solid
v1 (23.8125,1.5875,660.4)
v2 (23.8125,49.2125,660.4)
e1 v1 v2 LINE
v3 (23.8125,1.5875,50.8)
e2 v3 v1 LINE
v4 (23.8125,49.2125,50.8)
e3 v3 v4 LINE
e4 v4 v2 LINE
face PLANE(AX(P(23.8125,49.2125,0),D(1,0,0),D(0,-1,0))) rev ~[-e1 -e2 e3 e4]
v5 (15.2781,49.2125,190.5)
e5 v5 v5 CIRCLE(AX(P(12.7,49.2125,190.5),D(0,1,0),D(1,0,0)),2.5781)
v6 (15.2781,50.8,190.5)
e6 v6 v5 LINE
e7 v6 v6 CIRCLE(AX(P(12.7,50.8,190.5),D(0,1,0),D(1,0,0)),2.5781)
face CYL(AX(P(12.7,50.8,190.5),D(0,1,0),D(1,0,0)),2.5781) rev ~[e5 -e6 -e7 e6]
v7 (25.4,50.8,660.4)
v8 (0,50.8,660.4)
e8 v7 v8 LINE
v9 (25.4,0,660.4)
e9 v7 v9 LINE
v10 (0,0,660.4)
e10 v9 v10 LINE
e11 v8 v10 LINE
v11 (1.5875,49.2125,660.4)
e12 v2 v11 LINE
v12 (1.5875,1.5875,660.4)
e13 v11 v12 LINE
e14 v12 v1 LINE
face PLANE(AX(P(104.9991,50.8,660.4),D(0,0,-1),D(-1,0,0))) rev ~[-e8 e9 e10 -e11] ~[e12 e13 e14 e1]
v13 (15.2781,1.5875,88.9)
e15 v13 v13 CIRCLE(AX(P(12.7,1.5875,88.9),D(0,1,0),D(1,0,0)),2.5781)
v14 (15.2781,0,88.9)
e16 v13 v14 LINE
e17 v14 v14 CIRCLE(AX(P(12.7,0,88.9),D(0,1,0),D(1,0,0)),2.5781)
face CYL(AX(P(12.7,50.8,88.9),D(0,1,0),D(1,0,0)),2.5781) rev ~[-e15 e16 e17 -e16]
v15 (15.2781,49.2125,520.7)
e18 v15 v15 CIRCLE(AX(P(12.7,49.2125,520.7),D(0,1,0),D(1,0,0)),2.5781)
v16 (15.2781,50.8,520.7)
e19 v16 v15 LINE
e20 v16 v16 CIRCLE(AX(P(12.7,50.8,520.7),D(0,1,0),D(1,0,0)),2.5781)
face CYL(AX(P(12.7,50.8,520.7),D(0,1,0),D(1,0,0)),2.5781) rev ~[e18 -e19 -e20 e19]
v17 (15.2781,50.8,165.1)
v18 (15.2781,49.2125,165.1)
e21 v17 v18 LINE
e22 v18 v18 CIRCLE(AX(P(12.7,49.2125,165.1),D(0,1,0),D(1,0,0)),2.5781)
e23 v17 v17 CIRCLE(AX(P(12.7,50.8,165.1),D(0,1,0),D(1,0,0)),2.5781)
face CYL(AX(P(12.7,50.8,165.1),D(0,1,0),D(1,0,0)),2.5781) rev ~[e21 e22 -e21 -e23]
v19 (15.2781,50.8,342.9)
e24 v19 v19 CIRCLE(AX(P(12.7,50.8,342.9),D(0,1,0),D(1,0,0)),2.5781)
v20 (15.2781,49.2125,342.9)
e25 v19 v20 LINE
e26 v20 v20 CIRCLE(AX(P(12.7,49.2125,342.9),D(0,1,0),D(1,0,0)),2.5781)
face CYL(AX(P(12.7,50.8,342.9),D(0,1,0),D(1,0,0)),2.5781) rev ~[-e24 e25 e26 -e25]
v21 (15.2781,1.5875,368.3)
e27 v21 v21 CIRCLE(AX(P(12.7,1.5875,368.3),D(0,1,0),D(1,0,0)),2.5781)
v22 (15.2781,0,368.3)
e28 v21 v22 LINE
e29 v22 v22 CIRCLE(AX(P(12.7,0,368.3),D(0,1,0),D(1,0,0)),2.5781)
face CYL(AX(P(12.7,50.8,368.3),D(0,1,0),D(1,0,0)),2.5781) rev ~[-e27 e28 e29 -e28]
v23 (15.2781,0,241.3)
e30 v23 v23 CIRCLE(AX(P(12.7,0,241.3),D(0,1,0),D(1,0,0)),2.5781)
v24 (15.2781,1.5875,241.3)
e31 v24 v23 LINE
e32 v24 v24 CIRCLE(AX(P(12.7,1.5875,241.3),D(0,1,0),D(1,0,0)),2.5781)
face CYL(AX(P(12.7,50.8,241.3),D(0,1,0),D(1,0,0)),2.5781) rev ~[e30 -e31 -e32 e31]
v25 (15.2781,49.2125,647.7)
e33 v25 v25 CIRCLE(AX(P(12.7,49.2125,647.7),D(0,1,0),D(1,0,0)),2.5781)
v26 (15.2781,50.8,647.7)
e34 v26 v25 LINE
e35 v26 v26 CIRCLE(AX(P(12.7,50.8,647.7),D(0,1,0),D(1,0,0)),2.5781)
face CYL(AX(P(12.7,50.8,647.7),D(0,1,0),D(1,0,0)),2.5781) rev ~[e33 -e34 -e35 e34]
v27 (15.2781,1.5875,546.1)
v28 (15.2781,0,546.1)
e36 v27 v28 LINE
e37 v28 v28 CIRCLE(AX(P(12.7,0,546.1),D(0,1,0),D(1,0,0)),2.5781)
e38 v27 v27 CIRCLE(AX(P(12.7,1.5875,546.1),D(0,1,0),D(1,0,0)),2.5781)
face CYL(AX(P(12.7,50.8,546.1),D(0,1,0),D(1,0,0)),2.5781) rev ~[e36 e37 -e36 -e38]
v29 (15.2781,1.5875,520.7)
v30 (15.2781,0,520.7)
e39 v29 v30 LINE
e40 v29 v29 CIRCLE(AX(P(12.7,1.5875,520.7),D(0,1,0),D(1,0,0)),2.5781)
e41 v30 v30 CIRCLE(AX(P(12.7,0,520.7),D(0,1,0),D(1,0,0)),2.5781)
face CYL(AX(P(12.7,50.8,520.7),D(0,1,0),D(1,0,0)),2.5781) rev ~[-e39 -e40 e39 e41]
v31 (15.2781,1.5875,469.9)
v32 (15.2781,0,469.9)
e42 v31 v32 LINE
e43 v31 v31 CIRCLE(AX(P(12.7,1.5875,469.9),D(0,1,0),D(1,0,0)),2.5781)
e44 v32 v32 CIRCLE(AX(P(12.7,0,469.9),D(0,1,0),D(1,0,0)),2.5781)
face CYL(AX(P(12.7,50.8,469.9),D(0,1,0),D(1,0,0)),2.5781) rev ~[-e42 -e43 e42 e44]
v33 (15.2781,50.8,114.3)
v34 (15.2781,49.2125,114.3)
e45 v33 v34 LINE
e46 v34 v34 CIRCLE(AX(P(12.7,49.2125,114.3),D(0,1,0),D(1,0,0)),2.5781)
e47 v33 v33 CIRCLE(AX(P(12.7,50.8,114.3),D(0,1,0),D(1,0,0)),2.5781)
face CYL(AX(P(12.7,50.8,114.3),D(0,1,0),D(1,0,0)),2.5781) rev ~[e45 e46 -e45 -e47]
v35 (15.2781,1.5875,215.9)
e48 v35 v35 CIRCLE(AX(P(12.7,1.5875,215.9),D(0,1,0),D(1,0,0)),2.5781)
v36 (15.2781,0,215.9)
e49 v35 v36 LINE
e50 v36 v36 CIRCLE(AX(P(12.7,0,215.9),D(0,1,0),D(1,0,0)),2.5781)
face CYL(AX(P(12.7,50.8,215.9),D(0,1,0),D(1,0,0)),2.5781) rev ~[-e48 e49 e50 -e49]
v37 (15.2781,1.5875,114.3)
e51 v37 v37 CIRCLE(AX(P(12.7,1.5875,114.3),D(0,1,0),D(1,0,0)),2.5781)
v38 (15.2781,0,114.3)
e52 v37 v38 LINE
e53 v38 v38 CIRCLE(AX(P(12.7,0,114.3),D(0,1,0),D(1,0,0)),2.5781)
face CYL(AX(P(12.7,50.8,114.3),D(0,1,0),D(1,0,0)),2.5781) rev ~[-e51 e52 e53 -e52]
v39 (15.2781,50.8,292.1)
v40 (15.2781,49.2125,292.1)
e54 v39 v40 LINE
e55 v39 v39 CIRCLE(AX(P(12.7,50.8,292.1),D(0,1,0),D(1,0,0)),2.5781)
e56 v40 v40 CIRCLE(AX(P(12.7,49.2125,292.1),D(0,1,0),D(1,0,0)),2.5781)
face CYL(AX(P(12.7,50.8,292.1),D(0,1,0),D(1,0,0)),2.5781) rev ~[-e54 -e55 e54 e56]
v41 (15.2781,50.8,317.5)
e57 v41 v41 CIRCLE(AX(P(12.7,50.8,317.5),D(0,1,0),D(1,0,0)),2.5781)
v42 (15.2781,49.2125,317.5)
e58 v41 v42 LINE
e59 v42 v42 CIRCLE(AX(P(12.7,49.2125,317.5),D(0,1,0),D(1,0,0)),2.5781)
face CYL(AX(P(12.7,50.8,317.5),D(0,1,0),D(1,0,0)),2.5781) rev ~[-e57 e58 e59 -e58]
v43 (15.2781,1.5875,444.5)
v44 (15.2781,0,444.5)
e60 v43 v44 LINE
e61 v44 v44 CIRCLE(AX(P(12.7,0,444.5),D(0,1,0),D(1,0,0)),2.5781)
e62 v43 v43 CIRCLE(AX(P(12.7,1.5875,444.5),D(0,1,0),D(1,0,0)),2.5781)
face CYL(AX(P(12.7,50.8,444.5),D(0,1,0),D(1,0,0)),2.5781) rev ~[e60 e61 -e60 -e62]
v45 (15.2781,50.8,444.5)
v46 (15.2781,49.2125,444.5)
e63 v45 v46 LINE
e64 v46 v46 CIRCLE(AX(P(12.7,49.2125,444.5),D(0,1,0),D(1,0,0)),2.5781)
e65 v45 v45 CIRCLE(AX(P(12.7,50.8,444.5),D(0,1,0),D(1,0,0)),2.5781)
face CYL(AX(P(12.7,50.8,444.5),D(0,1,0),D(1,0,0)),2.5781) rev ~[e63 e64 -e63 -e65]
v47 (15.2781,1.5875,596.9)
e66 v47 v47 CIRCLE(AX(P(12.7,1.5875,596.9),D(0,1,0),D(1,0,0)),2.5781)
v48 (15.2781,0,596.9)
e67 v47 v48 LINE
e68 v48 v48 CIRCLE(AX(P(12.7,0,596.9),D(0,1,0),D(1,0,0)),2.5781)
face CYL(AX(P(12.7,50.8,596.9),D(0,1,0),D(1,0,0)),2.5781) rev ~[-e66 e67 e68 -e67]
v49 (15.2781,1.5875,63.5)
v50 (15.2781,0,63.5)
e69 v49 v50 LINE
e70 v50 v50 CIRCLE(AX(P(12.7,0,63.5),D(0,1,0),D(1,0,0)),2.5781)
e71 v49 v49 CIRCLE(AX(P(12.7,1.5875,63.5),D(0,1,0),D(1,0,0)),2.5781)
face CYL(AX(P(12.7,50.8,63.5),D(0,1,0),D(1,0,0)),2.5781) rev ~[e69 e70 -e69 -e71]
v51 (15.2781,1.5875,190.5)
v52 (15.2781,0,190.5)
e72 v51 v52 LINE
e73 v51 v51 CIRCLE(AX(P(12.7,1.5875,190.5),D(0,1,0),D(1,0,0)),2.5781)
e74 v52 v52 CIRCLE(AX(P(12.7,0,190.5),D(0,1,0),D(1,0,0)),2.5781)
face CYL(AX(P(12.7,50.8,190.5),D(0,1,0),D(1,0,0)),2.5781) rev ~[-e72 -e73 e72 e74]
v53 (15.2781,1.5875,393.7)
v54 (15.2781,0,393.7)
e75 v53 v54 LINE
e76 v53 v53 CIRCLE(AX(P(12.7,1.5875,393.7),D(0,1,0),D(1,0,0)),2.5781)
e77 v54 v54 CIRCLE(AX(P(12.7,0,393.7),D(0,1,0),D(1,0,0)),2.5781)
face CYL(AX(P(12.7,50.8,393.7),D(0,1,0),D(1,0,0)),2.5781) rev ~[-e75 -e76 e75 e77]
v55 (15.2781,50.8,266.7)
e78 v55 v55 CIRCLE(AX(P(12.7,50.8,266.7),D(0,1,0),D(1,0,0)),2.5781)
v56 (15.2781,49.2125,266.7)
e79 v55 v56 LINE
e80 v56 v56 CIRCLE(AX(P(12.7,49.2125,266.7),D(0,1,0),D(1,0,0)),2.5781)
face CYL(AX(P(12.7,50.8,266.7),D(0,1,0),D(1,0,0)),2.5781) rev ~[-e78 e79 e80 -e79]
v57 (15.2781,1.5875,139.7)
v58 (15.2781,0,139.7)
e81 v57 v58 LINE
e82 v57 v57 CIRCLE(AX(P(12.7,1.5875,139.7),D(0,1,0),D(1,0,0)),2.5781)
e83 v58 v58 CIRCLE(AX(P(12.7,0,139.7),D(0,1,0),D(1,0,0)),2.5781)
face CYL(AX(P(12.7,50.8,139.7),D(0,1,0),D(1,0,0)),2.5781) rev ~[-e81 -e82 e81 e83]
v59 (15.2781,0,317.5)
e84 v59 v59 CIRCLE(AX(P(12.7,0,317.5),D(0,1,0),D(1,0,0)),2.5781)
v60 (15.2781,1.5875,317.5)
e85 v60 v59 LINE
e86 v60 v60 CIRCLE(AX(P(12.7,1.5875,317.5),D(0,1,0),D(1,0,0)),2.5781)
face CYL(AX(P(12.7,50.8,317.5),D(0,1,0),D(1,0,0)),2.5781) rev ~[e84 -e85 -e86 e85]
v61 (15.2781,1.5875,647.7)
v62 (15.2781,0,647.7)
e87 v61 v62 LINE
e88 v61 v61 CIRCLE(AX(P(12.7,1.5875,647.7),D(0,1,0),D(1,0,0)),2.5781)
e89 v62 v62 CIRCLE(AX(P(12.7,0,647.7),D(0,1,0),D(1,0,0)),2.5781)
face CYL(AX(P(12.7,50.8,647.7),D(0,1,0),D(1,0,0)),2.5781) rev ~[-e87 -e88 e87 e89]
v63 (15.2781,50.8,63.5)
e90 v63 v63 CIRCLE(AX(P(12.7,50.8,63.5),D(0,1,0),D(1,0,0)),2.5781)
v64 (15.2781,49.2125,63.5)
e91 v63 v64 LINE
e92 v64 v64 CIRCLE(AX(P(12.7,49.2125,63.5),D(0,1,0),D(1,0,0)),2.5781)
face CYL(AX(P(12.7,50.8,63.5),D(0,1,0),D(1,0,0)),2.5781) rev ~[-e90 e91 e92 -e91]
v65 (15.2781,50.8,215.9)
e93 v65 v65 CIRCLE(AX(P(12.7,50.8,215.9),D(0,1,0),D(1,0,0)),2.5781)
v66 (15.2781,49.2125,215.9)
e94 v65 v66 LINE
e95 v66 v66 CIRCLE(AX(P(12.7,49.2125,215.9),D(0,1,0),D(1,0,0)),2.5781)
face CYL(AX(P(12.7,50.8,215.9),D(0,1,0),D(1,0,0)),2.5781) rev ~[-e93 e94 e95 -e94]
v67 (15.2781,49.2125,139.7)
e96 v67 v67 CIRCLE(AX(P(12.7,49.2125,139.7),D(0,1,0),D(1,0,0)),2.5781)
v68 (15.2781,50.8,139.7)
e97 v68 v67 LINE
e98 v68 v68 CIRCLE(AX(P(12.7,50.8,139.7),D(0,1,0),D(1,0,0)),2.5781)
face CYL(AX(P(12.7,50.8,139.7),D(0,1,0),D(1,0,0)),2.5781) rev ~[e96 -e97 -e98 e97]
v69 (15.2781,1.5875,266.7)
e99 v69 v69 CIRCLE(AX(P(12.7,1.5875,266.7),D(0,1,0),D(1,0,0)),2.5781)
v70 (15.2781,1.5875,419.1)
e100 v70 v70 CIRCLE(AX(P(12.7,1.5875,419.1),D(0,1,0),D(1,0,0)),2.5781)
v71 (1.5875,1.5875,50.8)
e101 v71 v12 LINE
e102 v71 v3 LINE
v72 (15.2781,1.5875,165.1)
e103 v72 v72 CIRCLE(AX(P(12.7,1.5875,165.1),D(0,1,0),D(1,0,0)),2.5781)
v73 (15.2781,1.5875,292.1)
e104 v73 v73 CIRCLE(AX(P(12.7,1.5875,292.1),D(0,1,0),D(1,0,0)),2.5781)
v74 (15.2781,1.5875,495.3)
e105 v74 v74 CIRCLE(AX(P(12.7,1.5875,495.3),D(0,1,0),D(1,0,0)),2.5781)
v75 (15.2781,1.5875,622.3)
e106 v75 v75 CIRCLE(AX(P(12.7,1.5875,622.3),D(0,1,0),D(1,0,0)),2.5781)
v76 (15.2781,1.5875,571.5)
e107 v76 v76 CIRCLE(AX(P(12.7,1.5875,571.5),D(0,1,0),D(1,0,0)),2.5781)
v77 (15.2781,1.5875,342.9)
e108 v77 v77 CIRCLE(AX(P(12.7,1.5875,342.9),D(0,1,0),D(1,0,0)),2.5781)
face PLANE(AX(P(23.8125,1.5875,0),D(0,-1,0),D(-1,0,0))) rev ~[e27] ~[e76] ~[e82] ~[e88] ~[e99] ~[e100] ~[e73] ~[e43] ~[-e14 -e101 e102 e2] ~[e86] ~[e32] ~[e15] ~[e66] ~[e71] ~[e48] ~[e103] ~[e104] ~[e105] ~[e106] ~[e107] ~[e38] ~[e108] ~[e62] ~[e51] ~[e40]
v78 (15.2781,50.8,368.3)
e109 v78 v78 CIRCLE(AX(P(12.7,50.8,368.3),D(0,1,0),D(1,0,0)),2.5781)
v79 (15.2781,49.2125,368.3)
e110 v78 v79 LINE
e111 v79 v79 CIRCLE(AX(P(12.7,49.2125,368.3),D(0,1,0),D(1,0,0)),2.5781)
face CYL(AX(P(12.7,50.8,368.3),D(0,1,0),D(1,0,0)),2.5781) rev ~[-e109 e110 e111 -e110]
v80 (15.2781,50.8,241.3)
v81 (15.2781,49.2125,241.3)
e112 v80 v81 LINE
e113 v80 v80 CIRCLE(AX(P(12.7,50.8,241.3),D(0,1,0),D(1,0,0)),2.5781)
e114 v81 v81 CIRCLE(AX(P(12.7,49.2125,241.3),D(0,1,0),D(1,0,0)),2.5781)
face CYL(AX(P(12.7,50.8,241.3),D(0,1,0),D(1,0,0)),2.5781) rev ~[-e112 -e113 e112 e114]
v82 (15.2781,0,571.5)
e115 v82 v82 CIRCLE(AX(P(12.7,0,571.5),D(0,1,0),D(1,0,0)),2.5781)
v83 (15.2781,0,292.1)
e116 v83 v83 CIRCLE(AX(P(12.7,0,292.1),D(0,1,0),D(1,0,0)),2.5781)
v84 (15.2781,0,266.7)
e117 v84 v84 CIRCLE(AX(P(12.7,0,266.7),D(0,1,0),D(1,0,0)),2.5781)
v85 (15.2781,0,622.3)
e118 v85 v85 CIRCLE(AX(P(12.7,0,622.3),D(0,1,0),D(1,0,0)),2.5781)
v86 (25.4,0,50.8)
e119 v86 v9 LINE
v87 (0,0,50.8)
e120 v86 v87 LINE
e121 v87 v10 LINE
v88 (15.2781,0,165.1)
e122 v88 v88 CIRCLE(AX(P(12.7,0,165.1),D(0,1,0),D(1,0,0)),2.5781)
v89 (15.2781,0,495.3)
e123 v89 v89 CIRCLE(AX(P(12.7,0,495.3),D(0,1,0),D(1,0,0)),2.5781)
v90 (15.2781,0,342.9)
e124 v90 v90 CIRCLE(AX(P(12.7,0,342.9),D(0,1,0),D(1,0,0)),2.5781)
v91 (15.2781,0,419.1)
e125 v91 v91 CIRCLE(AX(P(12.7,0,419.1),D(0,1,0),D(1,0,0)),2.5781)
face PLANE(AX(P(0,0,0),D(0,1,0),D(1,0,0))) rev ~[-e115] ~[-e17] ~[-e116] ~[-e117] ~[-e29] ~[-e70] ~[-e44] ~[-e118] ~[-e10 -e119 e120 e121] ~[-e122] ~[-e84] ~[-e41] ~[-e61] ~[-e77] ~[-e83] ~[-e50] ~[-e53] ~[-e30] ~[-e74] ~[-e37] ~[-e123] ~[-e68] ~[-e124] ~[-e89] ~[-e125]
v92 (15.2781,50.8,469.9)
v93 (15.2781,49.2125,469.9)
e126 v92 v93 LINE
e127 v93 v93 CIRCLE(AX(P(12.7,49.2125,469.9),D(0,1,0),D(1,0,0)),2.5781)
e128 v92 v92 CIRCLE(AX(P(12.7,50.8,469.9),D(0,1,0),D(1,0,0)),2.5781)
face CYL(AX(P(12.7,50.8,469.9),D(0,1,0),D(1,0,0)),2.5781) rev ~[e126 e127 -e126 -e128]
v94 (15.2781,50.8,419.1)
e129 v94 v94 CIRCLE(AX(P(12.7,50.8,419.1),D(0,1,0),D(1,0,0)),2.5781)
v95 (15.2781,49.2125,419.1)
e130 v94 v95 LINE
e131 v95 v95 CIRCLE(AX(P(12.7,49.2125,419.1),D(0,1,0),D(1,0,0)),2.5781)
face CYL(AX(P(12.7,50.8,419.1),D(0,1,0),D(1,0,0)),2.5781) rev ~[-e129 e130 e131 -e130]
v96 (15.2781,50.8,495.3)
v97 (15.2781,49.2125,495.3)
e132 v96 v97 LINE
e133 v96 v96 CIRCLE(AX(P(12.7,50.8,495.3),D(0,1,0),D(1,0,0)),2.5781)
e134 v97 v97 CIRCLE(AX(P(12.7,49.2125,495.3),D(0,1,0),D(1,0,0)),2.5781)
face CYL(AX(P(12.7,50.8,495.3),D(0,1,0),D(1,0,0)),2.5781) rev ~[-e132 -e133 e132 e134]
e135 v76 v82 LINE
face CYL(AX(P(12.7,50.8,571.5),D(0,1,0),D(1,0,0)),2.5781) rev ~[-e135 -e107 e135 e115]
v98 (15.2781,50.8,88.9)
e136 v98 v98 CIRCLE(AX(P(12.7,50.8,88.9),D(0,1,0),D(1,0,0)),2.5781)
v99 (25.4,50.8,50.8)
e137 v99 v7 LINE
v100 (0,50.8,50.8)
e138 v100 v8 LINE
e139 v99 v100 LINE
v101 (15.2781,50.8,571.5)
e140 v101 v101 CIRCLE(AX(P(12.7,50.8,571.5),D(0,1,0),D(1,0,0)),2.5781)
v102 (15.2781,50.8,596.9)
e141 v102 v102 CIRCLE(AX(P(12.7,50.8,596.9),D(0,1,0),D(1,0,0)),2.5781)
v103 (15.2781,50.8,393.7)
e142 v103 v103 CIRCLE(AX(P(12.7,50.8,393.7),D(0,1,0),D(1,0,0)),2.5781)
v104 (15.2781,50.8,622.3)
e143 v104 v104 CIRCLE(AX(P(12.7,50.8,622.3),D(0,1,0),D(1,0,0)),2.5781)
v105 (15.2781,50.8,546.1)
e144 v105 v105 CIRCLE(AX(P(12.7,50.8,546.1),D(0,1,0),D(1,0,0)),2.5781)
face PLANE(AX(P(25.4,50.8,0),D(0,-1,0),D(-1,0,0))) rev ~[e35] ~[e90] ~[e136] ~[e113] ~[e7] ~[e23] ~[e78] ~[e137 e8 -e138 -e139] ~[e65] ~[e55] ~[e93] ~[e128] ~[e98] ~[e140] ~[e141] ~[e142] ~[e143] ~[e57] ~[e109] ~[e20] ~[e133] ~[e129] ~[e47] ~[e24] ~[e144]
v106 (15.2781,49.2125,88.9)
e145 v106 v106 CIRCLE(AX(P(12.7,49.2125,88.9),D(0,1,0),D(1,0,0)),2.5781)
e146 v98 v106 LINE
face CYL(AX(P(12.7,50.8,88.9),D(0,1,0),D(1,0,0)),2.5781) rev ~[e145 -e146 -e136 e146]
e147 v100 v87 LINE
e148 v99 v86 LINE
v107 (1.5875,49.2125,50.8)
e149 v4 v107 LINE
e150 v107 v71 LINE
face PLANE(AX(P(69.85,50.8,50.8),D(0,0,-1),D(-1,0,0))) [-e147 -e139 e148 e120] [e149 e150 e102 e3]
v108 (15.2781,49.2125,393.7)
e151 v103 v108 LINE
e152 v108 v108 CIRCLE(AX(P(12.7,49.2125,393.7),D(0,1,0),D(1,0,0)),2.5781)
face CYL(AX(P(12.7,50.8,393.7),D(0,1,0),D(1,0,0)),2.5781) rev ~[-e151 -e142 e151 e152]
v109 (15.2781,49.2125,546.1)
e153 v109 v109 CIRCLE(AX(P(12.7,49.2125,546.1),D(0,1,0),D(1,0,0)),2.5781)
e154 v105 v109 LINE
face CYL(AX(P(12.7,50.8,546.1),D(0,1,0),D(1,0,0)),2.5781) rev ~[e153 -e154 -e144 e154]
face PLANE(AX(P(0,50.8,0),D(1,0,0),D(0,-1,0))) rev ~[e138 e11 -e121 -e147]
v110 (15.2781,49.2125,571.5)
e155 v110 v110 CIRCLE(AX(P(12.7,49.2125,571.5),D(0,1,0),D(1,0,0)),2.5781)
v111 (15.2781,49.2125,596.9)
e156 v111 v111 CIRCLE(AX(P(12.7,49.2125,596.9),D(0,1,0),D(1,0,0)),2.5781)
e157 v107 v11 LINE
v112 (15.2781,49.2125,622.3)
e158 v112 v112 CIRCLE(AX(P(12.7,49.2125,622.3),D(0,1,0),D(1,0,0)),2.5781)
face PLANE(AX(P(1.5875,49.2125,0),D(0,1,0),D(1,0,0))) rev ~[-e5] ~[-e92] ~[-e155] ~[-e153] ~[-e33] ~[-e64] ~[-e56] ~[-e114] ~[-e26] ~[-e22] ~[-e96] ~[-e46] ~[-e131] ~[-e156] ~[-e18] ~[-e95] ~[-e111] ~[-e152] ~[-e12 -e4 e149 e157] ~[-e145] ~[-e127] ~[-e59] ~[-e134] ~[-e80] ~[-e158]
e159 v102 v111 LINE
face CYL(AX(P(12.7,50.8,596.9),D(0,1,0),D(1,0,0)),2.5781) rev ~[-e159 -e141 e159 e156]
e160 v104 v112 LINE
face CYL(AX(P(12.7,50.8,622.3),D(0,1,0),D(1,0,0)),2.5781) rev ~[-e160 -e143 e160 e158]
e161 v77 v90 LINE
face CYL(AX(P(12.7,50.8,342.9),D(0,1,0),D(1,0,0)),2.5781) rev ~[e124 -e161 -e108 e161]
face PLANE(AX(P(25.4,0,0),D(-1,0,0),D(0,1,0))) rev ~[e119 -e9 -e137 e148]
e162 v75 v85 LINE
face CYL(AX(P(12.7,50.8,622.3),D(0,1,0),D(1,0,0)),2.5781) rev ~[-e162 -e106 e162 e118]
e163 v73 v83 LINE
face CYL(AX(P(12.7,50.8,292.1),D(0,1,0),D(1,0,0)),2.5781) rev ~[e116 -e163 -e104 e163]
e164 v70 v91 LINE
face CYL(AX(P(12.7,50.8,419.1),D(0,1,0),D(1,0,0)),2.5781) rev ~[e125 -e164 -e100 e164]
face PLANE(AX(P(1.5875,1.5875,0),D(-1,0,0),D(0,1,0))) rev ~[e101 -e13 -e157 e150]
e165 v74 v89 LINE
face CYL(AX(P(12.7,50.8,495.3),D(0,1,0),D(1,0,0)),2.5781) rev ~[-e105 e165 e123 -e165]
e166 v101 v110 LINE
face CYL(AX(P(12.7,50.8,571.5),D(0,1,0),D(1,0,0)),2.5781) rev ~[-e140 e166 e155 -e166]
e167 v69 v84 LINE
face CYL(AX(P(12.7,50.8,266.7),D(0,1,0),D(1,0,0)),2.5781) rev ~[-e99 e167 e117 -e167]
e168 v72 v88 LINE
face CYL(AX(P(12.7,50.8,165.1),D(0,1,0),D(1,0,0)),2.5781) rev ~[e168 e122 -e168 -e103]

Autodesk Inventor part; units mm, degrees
ref_plane "YZ Plane" through (0, 0, 0) normal (1, 0, 0) x (0, 1, 0)
ref_plane "XZ Plane" through (0, 0, 0) normal (0, 1, 0) x (-1, 0, 0)
ref_plane "XY Plane" through (0, 0, 0) normal (0, 0, 1) x (1, 0, 0)
sketch "Sketch1" plane through (0, 0, 0) normal (0, 0, 1) x (1, 0, 0)
  line L0 (0, 0) -> (25.4, 0)
  line L1 (25.4, 0) -> (25.4, 50.8)
  line L2 (25.4, 50.8) -> (0, 50.8)
  line L3 (0, 50.8) -> (0, 0)
  line L4 (1.5875, 49.2125) -> (23.8125, 49.2125)
  line L5 (23.8125, 49.2125) -> (23.8125, 1.5875)
  line L6 (23.8125, 1.5875) -> (1.5875, 1.5875)
  line L7 (1.5875, 1.5875) -> (1.5875, 49.2125)
  dimension "d0" = 25.4
  dimension "d1" = 50.8
  dimension "d2" = 1.5875
extrude "Extrusion1" add sketch "Sketch1" along normal blind 685.8
sketch "Sketch2" plane through (0, 50.8, 0) normal (0, 1, 0) x (1, 0, 0)
  line L0 (23.8125, 0) -> (1.5875, 0) construction
  line L1 (12.7, 0) -> (12.7, -12.7) construction
  line L2 (12.7, -12.7) -> (12.7, -38.1) construction
  line L3 (12.7, -38.1) -> (12.7, -63.5) construction
  line L4 (12.7, -63.5) -> (12.7, -88.9) construction
  line L5 (12.7, -88.9) -> (12.7, -114.3) construction
  line L6 (12.7, -114.3) -> (12.7, -139.7) construction
  line L7 (12.7, -139.7) -> (12.7, -165.1) construction
  line L8 (12.7, -165.1) -> (12.7, -190.5) construction
  line L9 (12.7, -190.5) -> (12.7, -215.9) construction
  line L10 (12.7, -215.9) -> (12.7, -241.3) construction
  line L11 (12.7, -241.3) -> (12.7, -266.7) construction
  line L12 (12.7, -266.7) -> (12.7, -292.1) construction
  line L13 (12.7, -292.1) -> (12.7, -317.5) construction
  line L14 (12.7, -317.5) -> (12.7, -342.9) construction
  line L15 (12.7, -342.9) -> (12.7, -368.3) construction
  line L16 (12.7, -368.3) -> (12.7, -393.7) construction
  line L17 (12.7, -393.7) -> (12.7, -419.1) construction
  line L18 (12.7, -419.1) -> (12.7, -444.5) construction
  line L19 (12.7, -444.5) -> (12.7, -469.9) construction
  line L20 (12.7, -469.9) -> (12.7, -495.3) construction
  line L21 (12.7, -495.3) -> (12.7, -469.9) construction
  line L22 (12.7, -469.9) -> (12.7, -495.3) construction
  line L23 (12.7, -495.3) -> (12.7, -520.7) construction
  line L24 (12.7, -520.7) -> (12.7, -546.1) construction
  line L25 (12.7, -546.1) -> (12.7, -571.5) construction
  line L26 (12.7, -571.5) -> (12.7, -596.9) construction
  line L27 (12.7, -596.9) -> (12.7, -622.3) construction
  line L28 (12.7, -622.3) -> (12.7, -647.7) construction
  line L29 (12.7, -647.7) -> (12.7, -673.1) construction
  circle A0 centre (12.7, -673.1) radius 2.5781
  circle A1 centre (12.7, -647.7) radius 2.5781
  circle A2 centre (12.7, -622.3) radius 2.5781
  circle A3 centre (12.7, -596.9) radius 2.5781
  circle A4 centre (12.7, -571.5) radius 2.5781
  circle A5 centre (12.7, -546.1) radius 2.5781
  circle A6 centre (12.7, -520.7) radius 2.5781
  circle A7 centre (12.7, -495.3) radius 2.5781
  circle A8 centre (12.7, -469.9) radius 2.5781
  circle A9 centre (12.7, -444.5) radius 2.5781
  circle A10 centre (12.7, -419.1) radius 2.5781
  circle A11 centre (12.7, -393.7) radius 2.5781
  circle A12 centre (12.7, -368.3) radius 2.5781
  circle A13 centre (12.7, -342.9) radius 2.5781
  circle A14 centre (12.7, -317.5) radius 2.5781
  circle A15 centre (12.7, -292.1) radius 2.5781
  circle A16 centre (12.7, -266.7) radius 2.5781
  circle A17 centre (12.7, -241.3) radius 2.5781
  circle A18 centre (12.7, -215.9) radius 2.5781
  circle A19 centre (12.7, -190.5) radius 2.5781
  circle A20 centre (12.7, -165.1) radius 2.5781
  circle A21 centre (12.7, -139.7) radius 2.5781
  circle A22 centre (12.7, -114.3) radius 2.5781
  circle A23 centre (12.7, -88.9) radius 2.5781
  circle A24 centre (12.7, -63.5) radius 2.5781
  circle A25 centre (12.7, -38.1) radius 2.5781
  circle A26 centre (12.7, -12.7) radius 2.5781
  point P0 (0, 0)
  dimension "d5" = 12.7
  dimension "d6" = 25.4
  dimension "d7" = 25.4
  dimension "d8" = 25.4
  dimension "d9" = 25.4
  dimension "d10" = 25.4
  dimension "d11" = 25.4
  dimension "d12" = 25.4
  dimension "d13" = 25.4
  dimension "d14" = 25.4
  dimension "d15" = 25.4
  dimension "d16" = 25.4
  dimension "d17" = 25.4
  dimension "d18" = 25.4
  dimension "d19" = 25.4
  dimension "d20" = 25.4
  dimension "d21" = 25.4
  dimension "d22" = 25.4
  dimension "d23" = 25.4
  dimension "d24" = 25.4
  dimension "d25" = 25.4
  dimension "d26" = 25.4
  dimension "d27" = 25.4
  dimension "d28" = 25.4
  dimension "d29" = 25.4
  dimension "d30" = 25.4
  dimension "d31" = 25.4
  dimension "d32" = 25.4
  dimension "d33" = 25.4
  dimension "d34" = 5.1562
  dimension "d35" = 5.1562
  dimension "d36" = 5.1562
  dimension "d37" = 5.1562
  dimension "d38" = 5.1562
  dimension "d39" = 5.1562
  dimension "d40" = 5.1562
  dimension "d41" = 5.1562
  dimension "d42" = 5.1562
  dimension "d43" = 5.1562
  dimension "d44" = 5.1562
  dimension "d45" = 5.1562
  dimension "d46" = 5.1562
  dimension "d47" = 5.1562
  dimension "d48" = 5.1562
  dimension "d49" = 5.1562
  dimension "d50" = 5.1562
  dimension "d51" = 5.1562
  dimension "d52" = 5.1562
  dimension "d53" = 5.1562
  dimension "d54" = 5.1562
  dimension "d55" = 5.1562
  dimension "d56" = 5.1562
  dimension "d57" = 5.1562
  dimension "d58" = 5.1562
  dimension "d59" = 5.1562
  dimension "d60" = 5.1562
extrude "Extrusion2" cut sketch "Sketch2" against normal blind 685.8
sketch "Sketch3" plane through (0, 50.8, 0) normal (0, 1, 0) x (1, 0, 0)
  line L0 (0, 0) -> (25.4, 0) projected
  line L1 (0, 0) -> (69.85, 0)
  line L2 (69.85, 0) -> (69.85, -50.8)
  line L3 (69.85, -50.8) -> (0, -50.8)
  line L4 (0, -50.8) -> (0, 0)
  line L5 (0, -685.8) -> (25.4, -685.8) projected
  line L6 (0, -685.8) -> (104.9991, -685.8)
  line L7 (104.9991, -685.8) -> (104.9991, -660.4)
  line L8 (104.9991, -660.4) -> (0, -660.4)
  line L9 (0, -660.4) -> (0, -685.8)
  dimension "d63" = 69.85
  dimension "d64" = 50.8
  dimension "d65" = 25.4
extrude "Extrusion3" cut sketch "Sketch3" against normal blind 50.8
properties part number "Front and Back Bar"
